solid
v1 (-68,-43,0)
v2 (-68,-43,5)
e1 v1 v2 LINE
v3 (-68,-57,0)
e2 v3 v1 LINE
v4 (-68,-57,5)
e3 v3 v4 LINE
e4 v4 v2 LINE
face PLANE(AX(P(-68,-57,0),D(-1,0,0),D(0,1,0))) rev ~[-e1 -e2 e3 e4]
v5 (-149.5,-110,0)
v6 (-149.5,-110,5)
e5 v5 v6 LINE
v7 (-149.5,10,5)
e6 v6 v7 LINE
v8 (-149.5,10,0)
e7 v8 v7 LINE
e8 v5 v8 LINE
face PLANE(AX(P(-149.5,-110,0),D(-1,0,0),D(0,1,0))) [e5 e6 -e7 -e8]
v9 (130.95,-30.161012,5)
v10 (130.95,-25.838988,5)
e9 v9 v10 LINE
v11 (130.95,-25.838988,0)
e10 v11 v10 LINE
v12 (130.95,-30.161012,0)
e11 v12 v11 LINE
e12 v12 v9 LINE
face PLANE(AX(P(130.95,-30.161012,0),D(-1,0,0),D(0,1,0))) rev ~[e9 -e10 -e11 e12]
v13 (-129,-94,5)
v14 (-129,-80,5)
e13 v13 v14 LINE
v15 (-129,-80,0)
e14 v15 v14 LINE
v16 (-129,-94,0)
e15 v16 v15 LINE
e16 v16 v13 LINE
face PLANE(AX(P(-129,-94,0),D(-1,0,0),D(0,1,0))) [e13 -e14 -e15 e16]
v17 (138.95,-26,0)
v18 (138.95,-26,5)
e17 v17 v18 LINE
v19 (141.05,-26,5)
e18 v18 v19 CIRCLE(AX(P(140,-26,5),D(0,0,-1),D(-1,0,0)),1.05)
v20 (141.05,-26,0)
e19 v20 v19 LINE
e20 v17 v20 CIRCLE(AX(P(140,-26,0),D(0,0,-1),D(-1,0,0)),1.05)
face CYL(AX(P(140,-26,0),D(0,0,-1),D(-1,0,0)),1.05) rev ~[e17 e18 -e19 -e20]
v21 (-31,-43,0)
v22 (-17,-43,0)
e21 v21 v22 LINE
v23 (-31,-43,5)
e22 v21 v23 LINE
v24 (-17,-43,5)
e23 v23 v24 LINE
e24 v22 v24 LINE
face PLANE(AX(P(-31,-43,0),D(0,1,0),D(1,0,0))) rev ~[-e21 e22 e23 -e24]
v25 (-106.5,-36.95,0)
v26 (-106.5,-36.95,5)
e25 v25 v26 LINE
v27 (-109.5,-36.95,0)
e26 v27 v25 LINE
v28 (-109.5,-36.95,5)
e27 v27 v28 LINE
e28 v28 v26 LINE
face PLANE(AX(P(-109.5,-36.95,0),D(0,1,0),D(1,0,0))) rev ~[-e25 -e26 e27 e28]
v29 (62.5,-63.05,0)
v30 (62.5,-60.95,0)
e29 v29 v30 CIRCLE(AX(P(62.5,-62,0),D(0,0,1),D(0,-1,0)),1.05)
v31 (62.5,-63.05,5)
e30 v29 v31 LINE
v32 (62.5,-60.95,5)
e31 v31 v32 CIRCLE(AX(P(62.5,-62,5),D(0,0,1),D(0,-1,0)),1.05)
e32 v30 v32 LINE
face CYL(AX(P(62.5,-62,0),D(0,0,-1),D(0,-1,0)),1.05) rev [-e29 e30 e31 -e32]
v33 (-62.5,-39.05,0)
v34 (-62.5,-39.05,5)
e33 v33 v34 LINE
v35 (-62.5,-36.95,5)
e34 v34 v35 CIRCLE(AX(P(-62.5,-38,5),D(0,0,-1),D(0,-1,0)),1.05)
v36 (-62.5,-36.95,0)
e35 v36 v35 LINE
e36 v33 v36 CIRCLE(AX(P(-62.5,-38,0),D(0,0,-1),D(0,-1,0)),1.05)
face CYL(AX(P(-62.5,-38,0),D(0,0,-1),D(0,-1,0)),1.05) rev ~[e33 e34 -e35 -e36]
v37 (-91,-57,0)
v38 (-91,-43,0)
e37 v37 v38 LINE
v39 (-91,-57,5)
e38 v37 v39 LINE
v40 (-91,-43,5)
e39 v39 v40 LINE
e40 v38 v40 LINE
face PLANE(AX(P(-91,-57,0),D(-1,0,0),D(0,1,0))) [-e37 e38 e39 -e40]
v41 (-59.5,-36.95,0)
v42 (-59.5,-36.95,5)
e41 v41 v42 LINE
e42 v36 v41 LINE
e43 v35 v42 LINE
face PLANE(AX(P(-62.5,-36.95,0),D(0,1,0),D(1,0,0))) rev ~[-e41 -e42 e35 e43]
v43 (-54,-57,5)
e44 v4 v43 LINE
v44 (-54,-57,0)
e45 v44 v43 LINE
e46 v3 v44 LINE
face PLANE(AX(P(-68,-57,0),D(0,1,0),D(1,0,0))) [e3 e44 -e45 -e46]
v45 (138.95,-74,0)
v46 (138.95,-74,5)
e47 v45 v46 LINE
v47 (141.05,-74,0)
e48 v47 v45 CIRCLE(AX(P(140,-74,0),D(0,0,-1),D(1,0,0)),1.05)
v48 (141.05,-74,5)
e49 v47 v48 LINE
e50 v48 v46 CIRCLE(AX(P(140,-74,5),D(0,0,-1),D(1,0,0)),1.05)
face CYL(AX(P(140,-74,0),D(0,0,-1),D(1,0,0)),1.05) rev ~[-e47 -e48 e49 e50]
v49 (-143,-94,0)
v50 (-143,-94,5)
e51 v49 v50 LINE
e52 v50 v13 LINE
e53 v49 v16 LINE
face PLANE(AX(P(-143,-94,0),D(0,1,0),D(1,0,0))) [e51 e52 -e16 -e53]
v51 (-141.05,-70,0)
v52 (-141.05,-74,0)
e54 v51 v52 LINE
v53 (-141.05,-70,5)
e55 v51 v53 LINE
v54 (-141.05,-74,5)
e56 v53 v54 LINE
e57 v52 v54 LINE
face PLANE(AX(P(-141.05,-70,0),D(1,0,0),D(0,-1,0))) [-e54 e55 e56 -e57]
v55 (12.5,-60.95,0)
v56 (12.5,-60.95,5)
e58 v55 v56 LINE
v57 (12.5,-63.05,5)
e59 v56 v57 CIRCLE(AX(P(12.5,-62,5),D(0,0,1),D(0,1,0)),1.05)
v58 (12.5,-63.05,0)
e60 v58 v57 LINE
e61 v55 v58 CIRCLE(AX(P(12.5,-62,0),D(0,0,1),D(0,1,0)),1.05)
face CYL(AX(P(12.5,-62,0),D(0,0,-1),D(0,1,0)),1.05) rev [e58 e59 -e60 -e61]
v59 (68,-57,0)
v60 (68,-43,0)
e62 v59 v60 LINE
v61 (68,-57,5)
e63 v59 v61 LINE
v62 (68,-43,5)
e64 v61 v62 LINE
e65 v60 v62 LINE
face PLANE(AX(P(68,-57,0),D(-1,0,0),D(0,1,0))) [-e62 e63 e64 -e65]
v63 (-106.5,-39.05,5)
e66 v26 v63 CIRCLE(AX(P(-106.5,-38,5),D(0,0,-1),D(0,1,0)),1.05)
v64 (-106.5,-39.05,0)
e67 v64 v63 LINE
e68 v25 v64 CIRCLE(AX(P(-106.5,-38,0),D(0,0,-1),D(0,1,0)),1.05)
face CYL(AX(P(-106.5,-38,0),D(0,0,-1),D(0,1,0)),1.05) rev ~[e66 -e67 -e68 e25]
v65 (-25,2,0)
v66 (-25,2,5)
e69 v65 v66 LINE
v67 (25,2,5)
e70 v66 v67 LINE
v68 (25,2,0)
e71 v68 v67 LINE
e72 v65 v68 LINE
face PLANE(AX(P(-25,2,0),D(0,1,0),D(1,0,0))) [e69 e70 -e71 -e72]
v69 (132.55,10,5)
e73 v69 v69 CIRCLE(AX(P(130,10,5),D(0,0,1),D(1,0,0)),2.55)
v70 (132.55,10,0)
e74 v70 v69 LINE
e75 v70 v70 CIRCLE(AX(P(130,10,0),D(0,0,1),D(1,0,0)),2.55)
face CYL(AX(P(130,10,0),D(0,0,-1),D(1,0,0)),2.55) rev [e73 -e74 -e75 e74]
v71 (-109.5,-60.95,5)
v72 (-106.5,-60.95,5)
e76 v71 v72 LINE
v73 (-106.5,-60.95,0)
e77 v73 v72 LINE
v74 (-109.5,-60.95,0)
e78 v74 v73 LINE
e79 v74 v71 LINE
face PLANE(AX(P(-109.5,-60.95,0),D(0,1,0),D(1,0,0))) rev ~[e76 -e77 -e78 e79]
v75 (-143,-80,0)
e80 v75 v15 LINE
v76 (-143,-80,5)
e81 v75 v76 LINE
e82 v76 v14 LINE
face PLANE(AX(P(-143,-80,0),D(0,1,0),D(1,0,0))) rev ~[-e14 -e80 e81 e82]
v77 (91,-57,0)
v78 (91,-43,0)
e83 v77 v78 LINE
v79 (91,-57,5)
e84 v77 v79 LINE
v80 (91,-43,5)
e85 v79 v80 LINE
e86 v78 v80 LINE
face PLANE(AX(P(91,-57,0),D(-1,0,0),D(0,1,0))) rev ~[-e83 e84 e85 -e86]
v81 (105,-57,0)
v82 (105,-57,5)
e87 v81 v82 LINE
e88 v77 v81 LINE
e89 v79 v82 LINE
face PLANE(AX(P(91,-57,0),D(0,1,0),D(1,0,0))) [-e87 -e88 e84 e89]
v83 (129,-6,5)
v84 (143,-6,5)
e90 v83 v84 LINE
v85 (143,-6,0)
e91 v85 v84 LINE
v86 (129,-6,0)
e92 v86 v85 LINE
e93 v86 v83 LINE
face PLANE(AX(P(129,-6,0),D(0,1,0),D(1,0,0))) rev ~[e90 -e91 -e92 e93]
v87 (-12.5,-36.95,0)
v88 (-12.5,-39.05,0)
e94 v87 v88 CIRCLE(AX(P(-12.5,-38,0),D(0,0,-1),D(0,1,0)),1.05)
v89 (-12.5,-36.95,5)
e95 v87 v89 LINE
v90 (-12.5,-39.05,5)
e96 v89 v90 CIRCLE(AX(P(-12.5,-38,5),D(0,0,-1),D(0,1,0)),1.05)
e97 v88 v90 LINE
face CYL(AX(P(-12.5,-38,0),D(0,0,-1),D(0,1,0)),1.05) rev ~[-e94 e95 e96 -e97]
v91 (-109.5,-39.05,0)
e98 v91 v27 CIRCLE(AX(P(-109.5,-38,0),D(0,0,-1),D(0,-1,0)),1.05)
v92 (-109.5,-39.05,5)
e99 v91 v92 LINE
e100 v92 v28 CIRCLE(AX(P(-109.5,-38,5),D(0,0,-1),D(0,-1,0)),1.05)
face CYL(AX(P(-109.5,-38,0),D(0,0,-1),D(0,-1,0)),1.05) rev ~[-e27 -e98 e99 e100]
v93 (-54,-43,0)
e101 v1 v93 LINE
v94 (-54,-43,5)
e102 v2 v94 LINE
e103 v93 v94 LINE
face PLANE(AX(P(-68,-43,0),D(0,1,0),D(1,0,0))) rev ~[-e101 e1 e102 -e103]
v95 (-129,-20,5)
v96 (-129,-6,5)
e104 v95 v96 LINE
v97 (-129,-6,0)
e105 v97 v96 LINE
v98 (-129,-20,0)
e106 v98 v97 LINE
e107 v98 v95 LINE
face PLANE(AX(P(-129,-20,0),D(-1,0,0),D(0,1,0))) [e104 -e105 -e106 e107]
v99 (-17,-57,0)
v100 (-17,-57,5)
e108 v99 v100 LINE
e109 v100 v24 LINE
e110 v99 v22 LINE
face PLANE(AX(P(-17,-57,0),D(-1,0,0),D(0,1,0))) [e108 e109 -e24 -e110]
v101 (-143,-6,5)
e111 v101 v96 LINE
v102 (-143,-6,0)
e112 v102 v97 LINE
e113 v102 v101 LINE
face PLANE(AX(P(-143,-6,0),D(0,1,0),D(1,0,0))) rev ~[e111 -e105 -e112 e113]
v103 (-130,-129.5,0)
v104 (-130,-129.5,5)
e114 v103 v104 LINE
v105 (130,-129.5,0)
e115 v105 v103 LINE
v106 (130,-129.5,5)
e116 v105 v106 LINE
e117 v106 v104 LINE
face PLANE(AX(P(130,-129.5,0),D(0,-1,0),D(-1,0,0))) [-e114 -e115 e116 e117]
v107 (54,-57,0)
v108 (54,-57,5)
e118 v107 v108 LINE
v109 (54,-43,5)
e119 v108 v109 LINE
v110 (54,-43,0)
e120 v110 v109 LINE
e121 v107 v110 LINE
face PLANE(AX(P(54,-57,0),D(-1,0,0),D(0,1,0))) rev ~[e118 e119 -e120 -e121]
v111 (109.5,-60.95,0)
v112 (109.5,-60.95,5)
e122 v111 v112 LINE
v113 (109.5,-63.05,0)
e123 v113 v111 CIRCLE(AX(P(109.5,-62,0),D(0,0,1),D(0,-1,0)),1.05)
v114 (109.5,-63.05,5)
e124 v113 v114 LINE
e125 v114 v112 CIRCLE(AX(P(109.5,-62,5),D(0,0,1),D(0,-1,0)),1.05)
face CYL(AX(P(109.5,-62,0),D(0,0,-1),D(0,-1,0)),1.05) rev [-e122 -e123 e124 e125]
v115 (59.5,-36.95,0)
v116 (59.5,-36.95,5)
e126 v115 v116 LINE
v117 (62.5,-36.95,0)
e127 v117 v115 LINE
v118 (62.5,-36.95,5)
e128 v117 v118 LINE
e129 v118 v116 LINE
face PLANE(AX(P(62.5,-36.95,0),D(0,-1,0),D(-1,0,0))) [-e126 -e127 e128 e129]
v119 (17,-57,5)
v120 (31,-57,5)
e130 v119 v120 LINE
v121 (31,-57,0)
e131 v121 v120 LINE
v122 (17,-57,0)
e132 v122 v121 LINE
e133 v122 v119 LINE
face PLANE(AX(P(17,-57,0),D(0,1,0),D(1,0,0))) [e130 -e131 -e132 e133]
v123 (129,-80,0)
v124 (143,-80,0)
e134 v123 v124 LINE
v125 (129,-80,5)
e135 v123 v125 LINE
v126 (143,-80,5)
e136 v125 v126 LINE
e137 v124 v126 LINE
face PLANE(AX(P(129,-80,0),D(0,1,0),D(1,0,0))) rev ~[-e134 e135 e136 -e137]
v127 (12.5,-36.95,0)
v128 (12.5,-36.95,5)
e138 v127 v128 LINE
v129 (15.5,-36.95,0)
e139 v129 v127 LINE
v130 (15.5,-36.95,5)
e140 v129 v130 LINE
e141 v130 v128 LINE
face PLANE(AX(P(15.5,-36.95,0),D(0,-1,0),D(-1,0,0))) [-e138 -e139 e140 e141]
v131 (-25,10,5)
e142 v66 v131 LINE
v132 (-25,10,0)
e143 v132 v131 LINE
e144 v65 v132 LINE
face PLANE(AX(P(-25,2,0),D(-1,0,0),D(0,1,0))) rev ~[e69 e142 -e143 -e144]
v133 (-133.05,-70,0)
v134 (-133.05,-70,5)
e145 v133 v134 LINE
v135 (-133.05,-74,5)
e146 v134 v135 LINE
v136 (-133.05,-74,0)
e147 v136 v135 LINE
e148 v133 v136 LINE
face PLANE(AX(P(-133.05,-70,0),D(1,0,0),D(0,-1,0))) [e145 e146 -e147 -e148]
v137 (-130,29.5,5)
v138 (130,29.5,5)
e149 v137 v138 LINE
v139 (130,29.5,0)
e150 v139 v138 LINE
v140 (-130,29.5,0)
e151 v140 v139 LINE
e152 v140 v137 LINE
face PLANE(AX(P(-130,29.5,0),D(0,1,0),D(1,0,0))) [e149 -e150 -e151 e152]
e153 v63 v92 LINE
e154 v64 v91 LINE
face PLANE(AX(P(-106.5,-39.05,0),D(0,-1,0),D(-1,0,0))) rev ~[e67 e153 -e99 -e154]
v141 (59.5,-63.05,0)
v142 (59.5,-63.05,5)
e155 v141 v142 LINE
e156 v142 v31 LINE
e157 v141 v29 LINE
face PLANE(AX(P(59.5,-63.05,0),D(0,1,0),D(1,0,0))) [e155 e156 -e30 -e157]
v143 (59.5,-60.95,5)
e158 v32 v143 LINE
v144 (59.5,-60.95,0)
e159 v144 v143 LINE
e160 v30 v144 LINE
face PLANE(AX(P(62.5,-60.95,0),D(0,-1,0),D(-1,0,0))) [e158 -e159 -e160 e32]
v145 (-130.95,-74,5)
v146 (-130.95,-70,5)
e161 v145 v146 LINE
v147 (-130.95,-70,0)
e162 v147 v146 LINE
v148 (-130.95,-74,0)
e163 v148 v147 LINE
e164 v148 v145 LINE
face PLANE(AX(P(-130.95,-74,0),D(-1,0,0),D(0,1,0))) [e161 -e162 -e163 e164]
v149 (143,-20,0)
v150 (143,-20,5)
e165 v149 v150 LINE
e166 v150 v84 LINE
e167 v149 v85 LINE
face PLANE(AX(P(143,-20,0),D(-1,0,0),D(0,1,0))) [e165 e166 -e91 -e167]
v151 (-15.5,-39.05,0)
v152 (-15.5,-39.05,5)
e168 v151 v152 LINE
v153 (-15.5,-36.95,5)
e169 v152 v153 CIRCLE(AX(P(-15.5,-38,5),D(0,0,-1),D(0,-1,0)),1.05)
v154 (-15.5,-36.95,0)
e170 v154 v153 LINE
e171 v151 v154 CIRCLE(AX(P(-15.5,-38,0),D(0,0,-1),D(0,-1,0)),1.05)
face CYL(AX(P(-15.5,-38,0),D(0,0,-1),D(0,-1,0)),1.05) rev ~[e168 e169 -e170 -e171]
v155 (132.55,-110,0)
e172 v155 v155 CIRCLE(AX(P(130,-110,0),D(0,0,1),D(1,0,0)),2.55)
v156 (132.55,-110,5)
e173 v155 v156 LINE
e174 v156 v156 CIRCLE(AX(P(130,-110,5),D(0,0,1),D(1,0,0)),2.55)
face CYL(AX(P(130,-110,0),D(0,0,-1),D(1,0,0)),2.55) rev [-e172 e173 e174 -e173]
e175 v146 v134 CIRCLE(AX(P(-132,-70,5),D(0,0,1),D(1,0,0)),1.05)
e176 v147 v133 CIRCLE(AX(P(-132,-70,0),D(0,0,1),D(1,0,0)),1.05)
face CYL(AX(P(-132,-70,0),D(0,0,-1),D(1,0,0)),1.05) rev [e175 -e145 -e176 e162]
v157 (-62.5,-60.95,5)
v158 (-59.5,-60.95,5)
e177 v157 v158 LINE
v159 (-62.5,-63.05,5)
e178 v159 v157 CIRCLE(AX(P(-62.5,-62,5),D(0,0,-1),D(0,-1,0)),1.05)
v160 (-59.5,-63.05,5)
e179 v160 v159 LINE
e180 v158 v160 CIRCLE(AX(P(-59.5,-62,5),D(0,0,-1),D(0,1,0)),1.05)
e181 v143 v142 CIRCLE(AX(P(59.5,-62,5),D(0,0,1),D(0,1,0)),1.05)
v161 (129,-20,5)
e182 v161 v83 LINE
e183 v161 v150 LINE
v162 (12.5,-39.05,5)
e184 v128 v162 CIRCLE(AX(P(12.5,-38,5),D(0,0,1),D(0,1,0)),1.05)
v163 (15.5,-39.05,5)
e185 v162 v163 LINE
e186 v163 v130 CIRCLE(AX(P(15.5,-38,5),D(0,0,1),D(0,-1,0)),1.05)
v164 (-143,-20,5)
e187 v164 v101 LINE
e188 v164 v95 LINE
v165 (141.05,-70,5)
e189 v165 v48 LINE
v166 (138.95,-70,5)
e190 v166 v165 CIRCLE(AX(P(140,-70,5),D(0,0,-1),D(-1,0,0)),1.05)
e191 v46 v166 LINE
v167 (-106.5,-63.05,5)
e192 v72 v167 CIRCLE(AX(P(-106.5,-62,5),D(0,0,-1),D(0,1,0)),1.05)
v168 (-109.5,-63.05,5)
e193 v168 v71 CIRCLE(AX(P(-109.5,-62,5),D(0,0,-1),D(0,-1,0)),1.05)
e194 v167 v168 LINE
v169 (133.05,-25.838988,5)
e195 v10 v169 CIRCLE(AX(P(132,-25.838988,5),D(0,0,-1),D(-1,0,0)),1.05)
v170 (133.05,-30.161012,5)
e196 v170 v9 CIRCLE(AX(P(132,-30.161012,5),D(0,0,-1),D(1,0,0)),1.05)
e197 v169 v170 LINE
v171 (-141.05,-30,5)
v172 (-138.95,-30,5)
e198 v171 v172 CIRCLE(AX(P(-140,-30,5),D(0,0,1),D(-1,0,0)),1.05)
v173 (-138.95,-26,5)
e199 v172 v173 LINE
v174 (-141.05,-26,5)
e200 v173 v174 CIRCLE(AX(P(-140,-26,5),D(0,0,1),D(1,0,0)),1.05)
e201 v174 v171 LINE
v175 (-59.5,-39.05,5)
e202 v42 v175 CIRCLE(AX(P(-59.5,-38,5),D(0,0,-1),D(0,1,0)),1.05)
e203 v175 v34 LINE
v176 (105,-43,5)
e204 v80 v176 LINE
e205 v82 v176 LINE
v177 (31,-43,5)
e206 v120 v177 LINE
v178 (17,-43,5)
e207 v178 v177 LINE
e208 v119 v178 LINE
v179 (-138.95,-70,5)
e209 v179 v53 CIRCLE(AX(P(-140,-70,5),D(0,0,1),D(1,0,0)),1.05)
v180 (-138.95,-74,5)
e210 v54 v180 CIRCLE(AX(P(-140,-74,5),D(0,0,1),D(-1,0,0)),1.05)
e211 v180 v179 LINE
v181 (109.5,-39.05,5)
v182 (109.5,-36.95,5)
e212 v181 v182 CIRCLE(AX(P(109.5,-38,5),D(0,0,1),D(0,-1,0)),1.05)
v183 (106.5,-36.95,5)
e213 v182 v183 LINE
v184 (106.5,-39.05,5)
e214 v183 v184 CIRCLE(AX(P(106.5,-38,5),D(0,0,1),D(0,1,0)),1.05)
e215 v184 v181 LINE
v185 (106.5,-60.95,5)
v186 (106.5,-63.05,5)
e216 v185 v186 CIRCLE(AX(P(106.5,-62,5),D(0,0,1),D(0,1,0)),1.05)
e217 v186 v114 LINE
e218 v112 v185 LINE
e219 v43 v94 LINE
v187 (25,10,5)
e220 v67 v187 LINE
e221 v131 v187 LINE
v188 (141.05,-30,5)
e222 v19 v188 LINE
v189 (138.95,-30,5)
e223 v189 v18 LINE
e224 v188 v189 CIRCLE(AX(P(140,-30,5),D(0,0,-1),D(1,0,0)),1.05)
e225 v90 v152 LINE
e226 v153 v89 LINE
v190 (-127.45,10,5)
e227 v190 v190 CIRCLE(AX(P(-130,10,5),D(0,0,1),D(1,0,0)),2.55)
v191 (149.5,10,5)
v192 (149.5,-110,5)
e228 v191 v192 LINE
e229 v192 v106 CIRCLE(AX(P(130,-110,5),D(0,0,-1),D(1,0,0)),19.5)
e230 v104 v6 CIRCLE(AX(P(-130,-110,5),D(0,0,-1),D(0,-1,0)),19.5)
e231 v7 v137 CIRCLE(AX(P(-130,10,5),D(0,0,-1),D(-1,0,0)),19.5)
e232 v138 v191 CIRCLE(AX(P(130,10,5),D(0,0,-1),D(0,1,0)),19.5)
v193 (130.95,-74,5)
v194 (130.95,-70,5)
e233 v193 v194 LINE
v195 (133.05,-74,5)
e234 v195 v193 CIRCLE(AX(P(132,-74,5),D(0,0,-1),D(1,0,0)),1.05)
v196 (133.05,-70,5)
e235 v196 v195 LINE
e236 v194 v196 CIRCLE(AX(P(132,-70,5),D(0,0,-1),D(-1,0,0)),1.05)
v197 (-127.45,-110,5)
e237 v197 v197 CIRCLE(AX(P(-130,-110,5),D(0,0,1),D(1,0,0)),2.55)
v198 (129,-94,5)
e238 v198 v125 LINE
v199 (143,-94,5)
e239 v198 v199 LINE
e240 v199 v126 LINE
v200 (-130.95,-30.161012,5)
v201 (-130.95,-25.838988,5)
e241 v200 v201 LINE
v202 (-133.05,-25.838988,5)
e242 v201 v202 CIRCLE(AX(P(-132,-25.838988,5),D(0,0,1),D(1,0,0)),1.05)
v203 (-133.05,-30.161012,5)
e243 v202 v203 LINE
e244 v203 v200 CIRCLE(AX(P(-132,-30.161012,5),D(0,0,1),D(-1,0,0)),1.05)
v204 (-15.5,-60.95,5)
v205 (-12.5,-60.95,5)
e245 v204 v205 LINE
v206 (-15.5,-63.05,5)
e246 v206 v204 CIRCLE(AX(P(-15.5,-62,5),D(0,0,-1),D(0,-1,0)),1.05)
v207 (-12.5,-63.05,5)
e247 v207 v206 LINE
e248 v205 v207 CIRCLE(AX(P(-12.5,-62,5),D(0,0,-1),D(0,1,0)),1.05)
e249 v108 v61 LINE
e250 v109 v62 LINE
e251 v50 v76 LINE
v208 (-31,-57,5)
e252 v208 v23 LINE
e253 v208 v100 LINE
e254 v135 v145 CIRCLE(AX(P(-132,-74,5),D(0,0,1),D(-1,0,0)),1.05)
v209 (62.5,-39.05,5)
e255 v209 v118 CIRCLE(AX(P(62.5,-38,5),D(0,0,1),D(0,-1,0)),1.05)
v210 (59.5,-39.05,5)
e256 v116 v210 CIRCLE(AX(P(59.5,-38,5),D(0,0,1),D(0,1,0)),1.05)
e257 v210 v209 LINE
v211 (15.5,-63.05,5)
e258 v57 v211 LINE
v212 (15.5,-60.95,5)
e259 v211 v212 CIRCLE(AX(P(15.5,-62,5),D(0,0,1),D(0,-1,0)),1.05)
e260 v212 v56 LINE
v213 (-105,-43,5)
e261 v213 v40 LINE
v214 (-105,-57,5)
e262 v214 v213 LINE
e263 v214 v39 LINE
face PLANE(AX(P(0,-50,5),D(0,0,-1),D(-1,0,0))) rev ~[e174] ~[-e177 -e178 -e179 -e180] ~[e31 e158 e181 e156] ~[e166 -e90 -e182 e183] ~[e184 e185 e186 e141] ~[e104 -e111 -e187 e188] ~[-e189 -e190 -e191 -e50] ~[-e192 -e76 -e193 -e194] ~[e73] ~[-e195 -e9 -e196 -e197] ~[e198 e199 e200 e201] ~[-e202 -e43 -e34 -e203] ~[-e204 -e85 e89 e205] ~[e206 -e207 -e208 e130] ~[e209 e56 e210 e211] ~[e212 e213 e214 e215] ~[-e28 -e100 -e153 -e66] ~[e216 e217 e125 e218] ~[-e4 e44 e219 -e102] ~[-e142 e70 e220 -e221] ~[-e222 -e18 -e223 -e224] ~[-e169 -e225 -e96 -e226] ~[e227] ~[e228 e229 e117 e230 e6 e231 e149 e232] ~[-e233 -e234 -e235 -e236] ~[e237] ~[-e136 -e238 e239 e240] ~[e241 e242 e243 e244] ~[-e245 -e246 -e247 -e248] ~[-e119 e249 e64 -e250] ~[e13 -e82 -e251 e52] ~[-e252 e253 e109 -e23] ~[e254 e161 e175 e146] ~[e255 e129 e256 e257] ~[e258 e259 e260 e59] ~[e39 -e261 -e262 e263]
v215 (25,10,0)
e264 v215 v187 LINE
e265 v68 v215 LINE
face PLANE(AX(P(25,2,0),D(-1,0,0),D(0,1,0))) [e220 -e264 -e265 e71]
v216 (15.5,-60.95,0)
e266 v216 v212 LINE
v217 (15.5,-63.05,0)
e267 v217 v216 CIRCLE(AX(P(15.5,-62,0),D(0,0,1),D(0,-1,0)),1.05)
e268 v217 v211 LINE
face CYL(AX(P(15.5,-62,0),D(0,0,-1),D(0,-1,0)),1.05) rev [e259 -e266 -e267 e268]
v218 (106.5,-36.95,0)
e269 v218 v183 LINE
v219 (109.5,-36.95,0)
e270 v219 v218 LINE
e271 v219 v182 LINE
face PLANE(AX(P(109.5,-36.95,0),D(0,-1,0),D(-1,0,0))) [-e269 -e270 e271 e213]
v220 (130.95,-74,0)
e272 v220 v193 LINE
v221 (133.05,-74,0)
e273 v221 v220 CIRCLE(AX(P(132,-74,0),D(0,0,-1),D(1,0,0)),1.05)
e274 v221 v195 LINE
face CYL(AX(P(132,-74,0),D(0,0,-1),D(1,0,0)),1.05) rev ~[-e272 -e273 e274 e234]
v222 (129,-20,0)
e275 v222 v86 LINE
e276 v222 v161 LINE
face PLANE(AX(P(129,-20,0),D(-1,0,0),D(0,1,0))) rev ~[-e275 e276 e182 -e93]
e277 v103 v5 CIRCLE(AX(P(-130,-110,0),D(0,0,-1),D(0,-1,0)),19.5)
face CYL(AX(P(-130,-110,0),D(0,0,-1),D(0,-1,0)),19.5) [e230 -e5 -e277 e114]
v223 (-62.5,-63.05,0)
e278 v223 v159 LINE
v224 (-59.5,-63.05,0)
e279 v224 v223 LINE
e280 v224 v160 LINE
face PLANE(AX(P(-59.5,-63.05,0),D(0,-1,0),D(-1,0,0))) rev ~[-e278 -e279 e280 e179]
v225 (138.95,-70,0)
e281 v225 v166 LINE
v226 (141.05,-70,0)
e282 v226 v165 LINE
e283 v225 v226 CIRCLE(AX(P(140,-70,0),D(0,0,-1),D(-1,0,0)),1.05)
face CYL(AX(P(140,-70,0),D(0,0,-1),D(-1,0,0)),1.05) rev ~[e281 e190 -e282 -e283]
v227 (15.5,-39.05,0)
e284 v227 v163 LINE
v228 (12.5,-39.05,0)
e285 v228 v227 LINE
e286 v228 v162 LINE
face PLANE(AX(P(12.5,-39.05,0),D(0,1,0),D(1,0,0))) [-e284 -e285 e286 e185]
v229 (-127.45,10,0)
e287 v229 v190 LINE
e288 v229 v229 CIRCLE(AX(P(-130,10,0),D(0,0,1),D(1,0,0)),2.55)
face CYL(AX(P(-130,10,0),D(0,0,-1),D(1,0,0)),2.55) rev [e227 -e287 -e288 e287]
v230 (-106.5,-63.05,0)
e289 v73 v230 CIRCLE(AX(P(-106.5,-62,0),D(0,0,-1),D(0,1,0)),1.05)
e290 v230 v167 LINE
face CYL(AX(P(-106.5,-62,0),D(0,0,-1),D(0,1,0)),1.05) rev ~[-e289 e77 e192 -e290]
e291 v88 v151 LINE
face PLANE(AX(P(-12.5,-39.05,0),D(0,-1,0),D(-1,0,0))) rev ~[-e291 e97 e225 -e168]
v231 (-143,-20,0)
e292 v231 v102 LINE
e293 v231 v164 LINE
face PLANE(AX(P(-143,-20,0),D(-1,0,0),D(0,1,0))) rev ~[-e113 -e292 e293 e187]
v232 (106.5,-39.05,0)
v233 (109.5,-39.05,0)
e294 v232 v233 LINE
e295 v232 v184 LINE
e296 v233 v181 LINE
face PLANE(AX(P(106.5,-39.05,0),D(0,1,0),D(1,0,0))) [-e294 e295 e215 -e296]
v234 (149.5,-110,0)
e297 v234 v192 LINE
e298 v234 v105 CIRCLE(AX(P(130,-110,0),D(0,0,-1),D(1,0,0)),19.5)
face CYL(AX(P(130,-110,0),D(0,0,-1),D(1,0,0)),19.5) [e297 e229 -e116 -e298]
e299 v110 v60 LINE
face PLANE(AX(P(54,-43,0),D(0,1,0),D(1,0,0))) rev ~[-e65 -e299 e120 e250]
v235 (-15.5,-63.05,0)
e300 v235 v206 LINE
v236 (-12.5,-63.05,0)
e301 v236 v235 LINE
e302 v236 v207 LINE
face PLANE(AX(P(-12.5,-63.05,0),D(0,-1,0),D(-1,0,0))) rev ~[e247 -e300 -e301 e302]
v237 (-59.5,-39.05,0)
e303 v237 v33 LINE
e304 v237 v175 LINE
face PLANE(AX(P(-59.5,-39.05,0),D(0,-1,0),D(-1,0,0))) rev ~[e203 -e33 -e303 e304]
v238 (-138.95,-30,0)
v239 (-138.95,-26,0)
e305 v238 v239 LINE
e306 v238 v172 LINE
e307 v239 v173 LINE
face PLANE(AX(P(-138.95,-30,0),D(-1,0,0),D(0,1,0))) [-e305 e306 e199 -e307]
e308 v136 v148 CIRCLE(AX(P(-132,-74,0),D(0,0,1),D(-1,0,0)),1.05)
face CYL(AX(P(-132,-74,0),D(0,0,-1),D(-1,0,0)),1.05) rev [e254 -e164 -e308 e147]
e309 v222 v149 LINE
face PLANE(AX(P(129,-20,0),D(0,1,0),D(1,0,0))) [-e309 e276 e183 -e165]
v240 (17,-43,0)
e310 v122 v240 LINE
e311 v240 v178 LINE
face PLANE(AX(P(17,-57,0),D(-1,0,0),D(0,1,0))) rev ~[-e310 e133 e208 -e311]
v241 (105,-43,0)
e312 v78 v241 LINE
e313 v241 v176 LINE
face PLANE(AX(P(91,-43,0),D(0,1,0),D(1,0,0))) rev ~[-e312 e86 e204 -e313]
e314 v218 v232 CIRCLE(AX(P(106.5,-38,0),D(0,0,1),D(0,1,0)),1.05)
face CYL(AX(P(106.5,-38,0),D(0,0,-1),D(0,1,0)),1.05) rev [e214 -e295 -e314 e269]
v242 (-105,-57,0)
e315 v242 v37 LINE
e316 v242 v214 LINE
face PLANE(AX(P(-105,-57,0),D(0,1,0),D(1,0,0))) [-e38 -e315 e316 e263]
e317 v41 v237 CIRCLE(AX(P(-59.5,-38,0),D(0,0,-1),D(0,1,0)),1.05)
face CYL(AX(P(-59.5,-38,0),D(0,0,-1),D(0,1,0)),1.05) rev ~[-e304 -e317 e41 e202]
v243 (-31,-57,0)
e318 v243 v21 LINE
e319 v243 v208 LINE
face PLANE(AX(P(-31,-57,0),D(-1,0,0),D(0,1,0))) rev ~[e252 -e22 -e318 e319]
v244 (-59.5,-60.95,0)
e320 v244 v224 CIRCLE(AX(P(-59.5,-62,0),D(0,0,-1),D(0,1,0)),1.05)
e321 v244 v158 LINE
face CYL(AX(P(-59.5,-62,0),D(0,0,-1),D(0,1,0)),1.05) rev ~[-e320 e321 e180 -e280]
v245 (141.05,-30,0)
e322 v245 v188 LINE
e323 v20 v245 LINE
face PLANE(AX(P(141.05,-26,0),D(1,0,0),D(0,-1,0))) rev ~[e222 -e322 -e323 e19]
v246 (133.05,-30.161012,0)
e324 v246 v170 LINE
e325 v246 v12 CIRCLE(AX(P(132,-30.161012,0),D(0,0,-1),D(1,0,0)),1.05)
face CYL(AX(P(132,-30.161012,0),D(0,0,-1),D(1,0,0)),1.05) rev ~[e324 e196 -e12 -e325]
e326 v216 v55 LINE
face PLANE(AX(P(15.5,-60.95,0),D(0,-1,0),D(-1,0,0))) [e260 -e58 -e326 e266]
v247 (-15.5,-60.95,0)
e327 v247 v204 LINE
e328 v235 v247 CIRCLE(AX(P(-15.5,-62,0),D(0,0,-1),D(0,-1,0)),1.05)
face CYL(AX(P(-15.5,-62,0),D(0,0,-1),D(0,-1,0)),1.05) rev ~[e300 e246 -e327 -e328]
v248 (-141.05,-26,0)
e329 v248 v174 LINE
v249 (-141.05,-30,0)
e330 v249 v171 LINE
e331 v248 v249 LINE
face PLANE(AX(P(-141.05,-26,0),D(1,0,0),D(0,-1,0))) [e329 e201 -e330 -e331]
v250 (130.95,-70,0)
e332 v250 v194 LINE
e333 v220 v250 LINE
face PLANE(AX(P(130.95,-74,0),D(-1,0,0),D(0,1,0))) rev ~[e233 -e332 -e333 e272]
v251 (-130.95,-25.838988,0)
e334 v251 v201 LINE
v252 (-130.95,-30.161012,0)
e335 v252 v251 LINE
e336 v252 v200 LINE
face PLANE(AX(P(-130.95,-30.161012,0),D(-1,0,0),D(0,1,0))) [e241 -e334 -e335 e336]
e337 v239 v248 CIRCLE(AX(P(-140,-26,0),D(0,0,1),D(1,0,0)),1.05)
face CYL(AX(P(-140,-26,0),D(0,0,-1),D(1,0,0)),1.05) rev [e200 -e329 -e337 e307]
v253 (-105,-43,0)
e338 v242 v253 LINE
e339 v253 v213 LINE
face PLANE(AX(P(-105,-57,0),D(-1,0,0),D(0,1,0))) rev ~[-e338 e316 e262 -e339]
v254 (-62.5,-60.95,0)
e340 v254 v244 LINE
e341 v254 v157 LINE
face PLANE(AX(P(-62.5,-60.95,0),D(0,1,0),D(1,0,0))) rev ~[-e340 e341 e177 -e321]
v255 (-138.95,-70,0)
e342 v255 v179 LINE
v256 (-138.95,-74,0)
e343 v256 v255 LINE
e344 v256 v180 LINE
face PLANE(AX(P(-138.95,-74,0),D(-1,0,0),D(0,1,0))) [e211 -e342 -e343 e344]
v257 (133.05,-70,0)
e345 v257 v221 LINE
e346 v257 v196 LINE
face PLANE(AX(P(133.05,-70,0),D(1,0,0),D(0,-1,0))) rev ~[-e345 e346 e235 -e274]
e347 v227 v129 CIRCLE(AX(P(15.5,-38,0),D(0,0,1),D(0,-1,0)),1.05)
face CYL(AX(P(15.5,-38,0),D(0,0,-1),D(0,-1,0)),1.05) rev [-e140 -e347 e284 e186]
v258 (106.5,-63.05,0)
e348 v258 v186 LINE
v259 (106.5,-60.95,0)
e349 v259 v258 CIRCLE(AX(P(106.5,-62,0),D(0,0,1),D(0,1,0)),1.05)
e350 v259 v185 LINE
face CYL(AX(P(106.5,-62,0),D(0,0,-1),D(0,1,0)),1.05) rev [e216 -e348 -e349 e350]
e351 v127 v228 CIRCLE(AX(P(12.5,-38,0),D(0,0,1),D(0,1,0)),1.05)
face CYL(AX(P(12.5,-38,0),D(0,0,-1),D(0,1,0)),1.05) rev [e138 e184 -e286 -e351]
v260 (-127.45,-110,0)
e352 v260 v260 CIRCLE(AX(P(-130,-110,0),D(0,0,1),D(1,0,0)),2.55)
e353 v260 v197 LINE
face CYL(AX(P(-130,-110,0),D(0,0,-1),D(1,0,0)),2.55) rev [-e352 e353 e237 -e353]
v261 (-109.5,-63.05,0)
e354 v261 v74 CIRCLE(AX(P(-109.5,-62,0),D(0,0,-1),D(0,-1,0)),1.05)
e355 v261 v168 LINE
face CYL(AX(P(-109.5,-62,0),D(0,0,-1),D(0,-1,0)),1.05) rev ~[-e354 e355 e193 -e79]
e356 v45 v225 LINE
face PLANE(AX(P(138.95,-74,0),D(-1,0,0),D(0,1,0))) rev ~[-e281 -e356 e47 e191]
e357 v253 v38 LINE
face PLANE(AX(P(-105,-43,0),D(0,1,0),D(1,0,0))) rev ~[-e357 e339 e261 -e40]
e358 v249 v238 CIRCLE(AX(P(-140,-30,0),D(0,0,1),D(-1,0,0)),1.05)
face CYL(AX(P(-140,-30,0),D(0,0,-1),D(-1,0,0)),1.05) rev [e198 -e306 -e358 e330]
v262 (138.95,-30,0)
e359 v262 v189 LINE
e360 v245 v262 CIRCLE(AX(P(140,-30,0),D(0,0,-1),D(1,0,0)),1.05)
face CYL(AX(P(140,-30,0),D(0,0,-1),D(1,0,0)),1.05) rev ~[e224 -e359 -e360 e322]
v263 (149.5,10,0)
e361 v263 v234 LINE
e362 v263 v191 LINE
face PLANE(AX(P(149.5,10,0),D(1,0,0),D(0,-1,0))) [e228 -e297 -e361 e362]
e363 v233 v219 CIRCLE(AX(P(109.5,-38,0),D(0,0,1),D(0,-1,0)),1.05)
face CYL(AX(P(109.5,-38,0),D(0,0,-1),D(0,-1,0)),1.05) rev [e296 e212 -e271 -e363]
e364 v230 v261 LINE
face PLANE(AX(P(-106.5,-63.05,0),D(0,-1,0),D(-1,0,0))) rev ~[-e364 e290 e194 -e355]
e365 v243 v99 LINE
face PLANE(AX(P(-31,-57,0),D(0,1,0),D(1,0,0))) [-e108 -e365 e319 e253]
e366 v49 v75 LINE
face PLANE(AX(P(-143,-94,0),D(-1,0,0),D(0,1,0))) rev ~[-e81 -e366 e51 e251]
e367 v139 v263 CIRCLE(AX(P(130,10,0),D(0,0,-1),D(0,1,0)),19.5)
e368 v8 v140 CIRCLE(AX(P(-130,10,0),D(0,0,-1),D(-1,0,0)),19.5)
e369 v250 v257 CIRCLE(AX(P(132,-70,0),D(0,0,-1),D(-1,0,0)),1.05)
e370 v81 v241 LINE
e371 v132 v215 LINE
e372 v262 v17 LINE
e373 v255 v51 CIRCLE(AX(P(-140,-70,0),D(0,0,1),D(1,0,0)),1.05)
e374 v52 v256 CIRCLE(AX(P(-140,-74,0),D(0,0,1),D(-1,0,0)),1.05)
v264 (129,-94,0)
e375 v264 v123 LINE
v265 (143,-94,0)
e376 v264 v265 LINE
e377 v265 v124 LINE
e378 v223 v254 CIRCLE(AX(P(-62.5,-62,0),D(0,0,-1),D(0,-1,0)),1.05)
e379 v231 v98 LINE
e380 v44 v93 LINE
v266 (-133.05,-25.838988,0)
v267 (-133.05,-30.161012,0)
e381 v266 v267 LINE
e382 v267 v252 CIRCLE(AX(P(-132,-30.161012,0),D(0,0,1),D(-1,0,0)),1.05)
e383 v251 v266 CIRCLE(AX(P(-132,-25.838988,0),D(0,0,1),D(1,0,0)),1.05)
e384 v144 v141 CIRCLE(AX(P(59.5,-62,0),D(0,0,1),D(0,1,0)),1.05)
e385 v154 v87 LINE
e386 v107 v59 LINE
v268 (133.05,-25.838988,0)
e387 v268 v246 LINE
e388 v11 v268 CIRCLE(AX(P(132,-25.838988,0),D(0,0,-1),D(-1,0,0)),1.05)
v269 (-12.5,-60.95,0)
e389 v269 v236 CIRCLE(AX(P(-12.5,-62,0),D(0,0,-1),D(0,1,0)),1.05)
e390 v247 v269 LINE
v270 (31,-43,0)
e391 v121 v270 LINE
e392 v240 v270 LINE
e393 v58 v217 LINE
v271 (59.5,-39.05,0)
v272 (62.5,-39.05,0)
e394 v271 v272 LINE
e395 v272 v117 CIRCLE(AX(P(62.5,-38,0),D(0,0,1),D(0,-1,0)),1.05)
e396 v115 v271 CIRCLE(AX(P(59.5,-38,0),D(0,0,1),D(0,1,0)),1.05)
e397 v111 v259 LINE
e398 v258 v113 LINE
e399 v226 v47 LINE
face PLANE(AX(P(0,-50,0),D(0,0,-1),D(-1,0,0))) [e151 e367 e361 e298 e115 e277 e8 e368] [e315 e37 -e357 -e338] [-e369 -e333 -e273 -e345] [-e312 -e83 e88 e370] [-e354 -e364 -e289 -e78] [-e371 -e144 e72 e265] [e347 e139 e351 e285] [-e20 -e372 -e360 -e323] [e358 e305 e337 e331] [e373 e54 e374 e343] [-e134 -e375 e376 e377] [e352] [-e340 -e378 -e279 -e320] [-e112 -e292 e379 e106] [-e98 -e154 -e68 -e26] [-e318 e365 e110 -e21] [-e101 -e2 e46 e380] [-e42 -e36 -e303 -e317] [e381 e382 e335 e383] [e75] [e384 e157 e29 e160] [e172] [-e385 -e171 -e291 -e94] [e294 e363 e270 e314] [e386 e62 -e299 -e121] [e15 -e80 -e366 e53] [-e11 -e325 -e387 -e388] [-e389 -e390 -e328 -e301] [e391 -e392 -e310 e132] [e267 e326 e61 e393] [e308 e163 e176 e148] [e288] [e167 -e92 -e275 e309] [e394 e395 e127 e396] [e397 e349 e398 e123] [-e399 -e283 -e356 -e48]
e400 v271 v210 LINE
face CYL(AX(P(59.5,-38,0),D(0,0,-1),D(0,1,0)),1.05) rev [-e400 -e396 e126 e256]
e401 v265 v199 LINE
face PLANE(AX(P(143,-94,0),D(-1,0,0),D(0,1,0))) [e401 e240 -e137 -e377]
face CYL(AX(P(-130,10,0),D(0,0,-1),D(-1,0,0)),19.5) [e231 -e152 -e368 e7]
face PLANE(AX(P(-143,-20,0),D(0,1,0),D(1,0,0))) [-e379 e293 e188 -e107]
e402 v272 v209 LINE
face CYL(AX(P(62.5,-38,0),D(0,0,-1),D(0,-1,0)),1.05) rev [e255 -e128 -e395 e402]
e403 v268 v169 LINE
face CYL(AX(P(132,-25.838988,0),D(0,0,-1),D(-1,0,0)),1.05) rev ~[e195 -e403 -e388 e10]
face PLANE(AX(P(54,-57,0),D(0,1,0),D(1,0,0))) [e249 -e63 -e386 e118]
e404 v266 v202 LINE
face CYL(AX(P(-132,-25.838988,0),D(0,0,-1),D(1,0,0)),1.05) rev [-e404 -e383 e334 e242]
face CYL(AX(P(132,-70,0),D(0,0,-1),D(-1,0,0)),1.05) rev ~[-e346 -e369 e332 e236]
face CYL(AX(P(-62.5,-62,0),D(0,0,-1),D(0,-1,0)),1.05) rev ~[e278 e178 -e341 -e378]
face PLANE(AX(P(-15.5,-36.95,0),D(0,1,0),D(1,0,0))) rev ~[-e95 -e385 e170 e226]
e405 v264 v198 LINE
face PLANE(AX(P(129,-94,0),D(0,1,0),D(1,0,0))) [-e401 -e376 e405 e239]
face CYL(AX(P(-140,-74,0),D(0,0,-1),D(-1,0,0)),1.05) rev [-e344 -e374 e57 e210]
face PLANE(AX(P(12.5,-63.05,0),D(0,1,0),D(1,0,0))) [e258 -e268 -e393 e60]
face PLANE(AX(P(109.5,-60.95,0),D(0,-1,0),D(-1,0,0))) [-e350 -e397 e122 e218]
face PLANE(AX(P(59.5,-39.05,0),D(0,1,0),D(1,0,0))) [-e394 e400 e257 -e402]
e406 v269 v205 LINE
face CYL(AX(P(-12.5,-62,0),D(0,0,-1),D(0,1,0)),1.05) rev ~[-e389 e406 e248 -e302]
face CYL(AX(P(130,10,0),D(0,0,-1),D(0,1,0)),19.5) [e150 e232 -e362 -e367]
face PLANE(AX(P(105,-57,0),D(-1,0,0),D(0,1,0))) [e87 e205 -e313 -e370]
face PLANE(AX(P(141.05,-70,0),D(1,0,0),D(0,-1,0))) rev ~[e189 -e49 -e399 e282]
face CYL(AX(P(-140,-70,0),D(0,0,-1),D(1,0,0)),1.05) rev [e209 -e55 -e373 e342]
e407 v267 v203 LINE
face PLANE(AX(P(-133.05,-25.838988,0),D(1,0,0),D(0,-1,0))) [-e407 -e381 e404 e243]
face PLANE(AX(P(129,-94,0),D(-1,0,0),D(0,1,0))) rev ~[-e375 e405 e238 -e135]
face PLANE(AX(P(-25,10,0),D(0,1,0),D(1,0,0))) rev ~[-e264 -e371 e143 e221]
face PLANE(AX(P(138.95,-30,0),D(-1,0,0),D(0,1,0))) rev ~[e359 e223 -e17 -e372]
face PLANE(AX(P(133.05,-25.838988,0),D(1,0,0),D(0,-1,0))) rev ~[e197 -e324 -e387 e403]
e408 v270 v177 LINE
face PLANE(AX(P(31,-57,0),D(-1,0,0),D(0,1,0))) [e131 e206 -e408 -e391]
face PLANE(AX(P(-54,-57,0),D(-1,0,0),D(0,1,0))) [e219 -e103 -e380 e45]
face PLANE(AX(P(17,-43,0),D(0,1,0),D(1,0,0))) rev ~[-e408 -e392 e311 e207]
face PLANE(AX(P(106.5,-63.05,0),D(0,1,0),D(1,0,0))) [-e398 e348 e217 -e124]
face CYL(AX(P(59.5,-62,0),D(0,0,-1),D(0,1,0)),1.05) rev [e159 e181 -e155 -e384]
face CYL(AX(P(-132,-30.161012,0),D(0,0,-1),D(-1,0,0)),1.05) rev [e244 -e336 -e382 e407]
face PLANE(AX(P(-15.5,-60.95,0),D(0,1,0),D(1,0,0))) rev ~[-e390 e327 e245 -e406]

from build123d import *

# Parameters (mm, degrees)
SKETCH_2_R      = 2.55
SKETCH_2_W      = 14
SKETCH_2_H      = 14
SKETCH_2_W_2    = 50
SKETCH_2_H_2    = 8
EXTRUDE_1_DEPTH = 5


with BuildPart() as part:
    # 草图2 → 凸台-拉伸1 (new body)
    with BuildSketch(Plane.XY):
        with BuildLine():
            Line((-130, 29.5), (130, 29.5))
            ThreePointArc((130, 29.5), (143.788582233, 23.788582233), (149.5, 10))
            Line((149.5, 10), (149.5, -110))
            ThreePointArc((149.5, -110), (143.788582233, -123.788582233), (130, -129.5))
            Line((130, -129.5), (-130, -129.5))
            ThreePointArc((-130, -129.5), (-143.788582233, -123.788582233), (-149.5, -110))
            Line((-149.5, -110), (-149.5, 10))
            ThreePointArc((-149.5, 10), (-143.788582233, 23.788582233), (-130, 29.5))
        make_face()
        with Locations((130, -110)):
            Circle(SKETCH_2_R, mode=Mode.SUBTRACT)
        with Locations((130, 10)):
            Circle(SKETCH_2_R, mode=Mode.SUBTRACT)
        with Locations((-130, -110)):
            Circle(SKETCH_2_R, mode=Mode.SUBTRACT)
        with Locations((-130, 10)):
            Circle(SKETCH_2_R, mode=Mode.SUBTRACT)
        with Locations((-61, -50)):
            Rectangle(SKETCH_2_W, SKETCH_2_H, mode=Mode.SUBTRACT)
        with Locations((-24, -50)):
            Rectangle(SKETCH_2_W, SKETCH_2_H, mode=Mode.SUBTRACT)
        with Locations((24, -50)):
            Rectangle(SKETCH_2_W, SKETCH_2_H, mode=Mode.SUBTRACT)
        with Locations((136, -87)):
            Rectangle(SKETCH_2_W, SKETCH_2_H, mode=Mode.SUBTRACT)
        with Locations((136, -13)):
            Rectangle(SKETCH_2_W, SKETCH_2_H, mode=Mode.SUBTRACT)
        with Locations((0, 6)):
            Rectangle(SKETCH_2_W_2, SKETCH_2_H_2, mode=Mode.SUBTRACT)
        with Locations((-136, -87)):
            Rectangle(SKETCH_2_W, SKETCH_2_H, mode=Mode.SUBTRACT)
        with Locations((-136, -13)):
            Rectangle(SKETCH_2_W, SKETCH_2_H, mode=Mode.SUBTRACT)
        with Locations((-98, -50)):
            Rectangle(SKETCH_2_W, SKETCH_2_H, mode=Mode.SUBTRACT)
        with Locations((61, -50)):
            Rectangle(SKETCH_2_W, SKETCH_2_H, mode=Mode.SUBTRACT)
        with Locations((98, -50)):
            Rectangle(SKETCH_2_W, SKETCH_2_H, mode=Mode.SUBTRACT)
        with BuildLine():
            Line((133.05, -25.838987573), (133.05, -30.161012427))
            ThreePointArc((133.05, -30.161012427), (132, -31.211012427), (130.95, -30.161012427))
            Line((130.95, -30.161012427), (130.95, -25.838987573))
            ThreePointArc((130.95, -25.838987573), (132, -24.788987573), (133.05, -25.838987573))
        make_face(mode=Mode.SUBTRACT)
        with BuildLine():
            Line((141.05, -26), (141.05, -30))
            ThreePointArc((141.05, -30), (140, -31.05), (138.95, -30))
            Line((138.95, -30), (138.95, -26))
            ThreePointArc((138.95, -26), (140, -24.95), (141.05, -26))
        make_face(mode=Mode.SUBTRACT)
        with BuildLine():
            Line((130.95, -74), (130.95, -70))
            ThreePointArc((130.95, -70), (132, -68.95), (133.05, -70))
            Line((133.05, -70), (133.05, -74))
            ThreePointArc((133.05, -74), (132, -75.05), (130.95, -74))
        make_face(mode=Mode.SUBTRACT)
        with BuildLine():
            Line((138.95, -74), (138.95, -70))
            ThreePointArc((138.95, -70), (140, -68.95), (141.05, -70))
            Line((141.05, -70), (141.05, -74))
            ThreePointArc((141.05, -74), (140, -75.05), (138.95, -74))
        make_face(mode=Mode.SUBTRACT)
        with BuildLine():
            Line((-141.05, -26), (-141.05, -30))
            ThreePointArc((-141.05, -30), (-140, -31.05), (-138.95, -30))
            Line((-138.95, -30), (-138.95, -26))
            ThreePointArc((-138.95, -26), (-140, -24.95), (-141.05, -26))
        make_face(mode=Mode.SUBTRACT)
        with BuildLine():
            Line((-133.05, -25.838987573), (-133.05, -30.161012427))
            ThreePointArc((-133.05, -30.161012427), (-132, -31.211012427), (-130.95, -30.161012427))
            Line((-130.95, -30.161012427), (-130.95, -25.838987573))
            ThreePointArc((-130.95, -25.838987573), (-132, -24.788987573), (-133.05, -25.838987573))
        make_face(mode=Mode.SUBTRACT)
        with BuildLine():
            Line((-130.95, -74), (-130.95, -70))
            ThreePointArc((-130.95, -70), (-132, -68.95), (-133.05, -70))
            Line((-133.05, -70), (-133.05, -74))
            ThreePointArc((-133.05, -74), (-132, -75.05), (-130.95, -74))
        make_face(mode=Mode.SUBTRACT)
        with BuildLine():
            Line((-138.95, -74), (-138.95, -70))
            ThreePointArc((-138.95, -70), (-140, -68.95), (-141.05, -70))
            Line((-141.05, -70), (-141.05, -74))
            ThreePointArc((-141.05, -74), (-140, -75.05), (-138.95, -74))
        make_face(mode=Mode.SUBTRACT)
        with BuildLine():
            Line((-62.5, -36.95), (-59.5, -36.95))
            ThreePointArc((-59.5, -36.95), (-58.45, -38), (-59.5, -39.05))
            Line((-59.5, -39.05), (-62.5, -39.05))
            ThreePointArc((-62.5, -39.05), (-63.55, -38), (-62.5, -36.95))
        make_face(mode=Mode.SUBTRACT)
        with BuildLine():
            Line((-62.5, -60.95), (-59.5, -60.95))
            ThreePointArc((-59.5, -60.95), (-58.45, -62), (-59.5, -63.05))
            Line((-59.5, -63.05), (-62.5, -63.05))
            ThreePointArc((-62.5, -63.05), (-63.55, -62), (-62.5, -60.95))
        make_face(mode=Mode.SUBTRACT)
        with BuildLine():
            Line((-15.5, -60.95), (-12.5, -60.95))
            ThreePointArc((-12.5, -60.95), (-11.45, -62), (-12.5, -63.05))
            Line((-12.5, -63.05), (-15.5, -63.05))
            ThreePointArc((-15.5, -63.05), (-16.55, -62), (-15.5, -60.95))
        make_face(mode=Mode.SUBTRACT)
        with BuildLine():
            Line((-12.5, -39.05), (-15.5, -39.05))
            ThreePointArc((-15.5, -39.05), (-16.55, -38), (-15.5, -36.95))
            Line((-15.5, -36.95), (-12.5, -36.95))
            ThreePointArc((-12.5, -36.95), (-11.45, -38), (-12.5, -39.05))
        make_face(mode=Mode.SUBTRACT)
        with BuildLine():
            Line((-109.5, -36.95), (-106.5, -36.95))
            ThreePointArc((-106.5, -36.95), (-105.45, -38), (-106.5, -39.05))
            Line((-106.5, -39.05), (-109.5, -39.05))
            ThreePointArc((-109.5, -39.05), (-110.55, -38), (-109.5, -36.95))
        make_face(mode=Mode.SUBTRACT)
        with BuildLine():
            Line((-109.5, -60.95), (-106.5, -60.95))
            ThreePointArc((-106.5, -60.95), (-105.45, -62), (-106.5, -63.05))
            Line((-106.5, -63.05), (-109.5, -63.05))
            ThreePointArc((-109.5, -63.05), (-110.55, -62), (-109.5, -60.95))
        make_face(mode=Mode.SUBTRACT)
        with BuildLine():
            Line((109.5, -36.95), (106.5, -36.95))
            ThreePointArc((106.5, -36.95), (105.45, -38), (106.5, -39.05))
            Line((106.5, -39.05), (109.5, -39.05))
            ThreePointArc((109.5, -39.05), (110.55, -38), (109.5, -36.95))
        make_face(mode=Mode.SUBTRACT)
        with BuildLine():
            Line((109.5, -60.95), (106.5, -60.95))
            ThreePointArc((106.5, -60.95), (105.45, -62), (106.5, -63.05))
            Line((106.5, -63.05), (109.5, -63.05))
            ThreePointArc((109.5, -63.05), (110.55, -62), (109.5, -60.95))
        make_face(mode=Mode.SUBTRACT)
        with BuildLine():
            Line((62.5, -60.95), (59.5, -60.95))
            ThreePointArc((59.5, -60.95), (58.45, -62), (59.5, -63.05))
            Line((59.5, -63.05), (62.5, -63.05))
            ThreePointArc((62.5, -63.05), (63.55, -62), (62.5, -60.95))
        make_face(mode=Mode.SUBTRACT)
        with BuildLine():
            Line((15.5, -60.95), (12.5, -60.95))
            ThreePointArc((12.5, -60.95), (11.45, -62), (12.5, -63.05))
            Line((12.5, -63.05), (15.5, -63.05))
            ThreePointArc((15.5, -63.05), (16.55, -62), (15.5, -60.95))
        make_face(mode=Mode.SUBTRACT)
        with BuildLine():
            Line((62.5, -36.95), (59.5, -36.95))
            ThreePointArc((59.5, -36.95), (58.45, -38), (59.5, -39.05))
            Line((59.5, -39.05), (62.5, -39.05))
            ThreePointArc((62.5, -39.05), (63.55, -38), (62.5, -36.95))
        make_face(mode=Mode.SUBTRACT)
        with BuildLine():
            Line((12.5, -39.05), (15.5, -39.05))
            ThreePointArc((15.5, -39.05), (16.55, -38), (15.5, -36.95))
            Line((15.5, -36.95), (12.5, -36.95))
            ThreePointArc((12.5, -36.95), (11.45, -38), (12.5, -39.05))
        make_face(mode=Mode.SUBTRACT)
    extrude(amount=EXTRUDE_1_DEPTH)


solid = part.part
